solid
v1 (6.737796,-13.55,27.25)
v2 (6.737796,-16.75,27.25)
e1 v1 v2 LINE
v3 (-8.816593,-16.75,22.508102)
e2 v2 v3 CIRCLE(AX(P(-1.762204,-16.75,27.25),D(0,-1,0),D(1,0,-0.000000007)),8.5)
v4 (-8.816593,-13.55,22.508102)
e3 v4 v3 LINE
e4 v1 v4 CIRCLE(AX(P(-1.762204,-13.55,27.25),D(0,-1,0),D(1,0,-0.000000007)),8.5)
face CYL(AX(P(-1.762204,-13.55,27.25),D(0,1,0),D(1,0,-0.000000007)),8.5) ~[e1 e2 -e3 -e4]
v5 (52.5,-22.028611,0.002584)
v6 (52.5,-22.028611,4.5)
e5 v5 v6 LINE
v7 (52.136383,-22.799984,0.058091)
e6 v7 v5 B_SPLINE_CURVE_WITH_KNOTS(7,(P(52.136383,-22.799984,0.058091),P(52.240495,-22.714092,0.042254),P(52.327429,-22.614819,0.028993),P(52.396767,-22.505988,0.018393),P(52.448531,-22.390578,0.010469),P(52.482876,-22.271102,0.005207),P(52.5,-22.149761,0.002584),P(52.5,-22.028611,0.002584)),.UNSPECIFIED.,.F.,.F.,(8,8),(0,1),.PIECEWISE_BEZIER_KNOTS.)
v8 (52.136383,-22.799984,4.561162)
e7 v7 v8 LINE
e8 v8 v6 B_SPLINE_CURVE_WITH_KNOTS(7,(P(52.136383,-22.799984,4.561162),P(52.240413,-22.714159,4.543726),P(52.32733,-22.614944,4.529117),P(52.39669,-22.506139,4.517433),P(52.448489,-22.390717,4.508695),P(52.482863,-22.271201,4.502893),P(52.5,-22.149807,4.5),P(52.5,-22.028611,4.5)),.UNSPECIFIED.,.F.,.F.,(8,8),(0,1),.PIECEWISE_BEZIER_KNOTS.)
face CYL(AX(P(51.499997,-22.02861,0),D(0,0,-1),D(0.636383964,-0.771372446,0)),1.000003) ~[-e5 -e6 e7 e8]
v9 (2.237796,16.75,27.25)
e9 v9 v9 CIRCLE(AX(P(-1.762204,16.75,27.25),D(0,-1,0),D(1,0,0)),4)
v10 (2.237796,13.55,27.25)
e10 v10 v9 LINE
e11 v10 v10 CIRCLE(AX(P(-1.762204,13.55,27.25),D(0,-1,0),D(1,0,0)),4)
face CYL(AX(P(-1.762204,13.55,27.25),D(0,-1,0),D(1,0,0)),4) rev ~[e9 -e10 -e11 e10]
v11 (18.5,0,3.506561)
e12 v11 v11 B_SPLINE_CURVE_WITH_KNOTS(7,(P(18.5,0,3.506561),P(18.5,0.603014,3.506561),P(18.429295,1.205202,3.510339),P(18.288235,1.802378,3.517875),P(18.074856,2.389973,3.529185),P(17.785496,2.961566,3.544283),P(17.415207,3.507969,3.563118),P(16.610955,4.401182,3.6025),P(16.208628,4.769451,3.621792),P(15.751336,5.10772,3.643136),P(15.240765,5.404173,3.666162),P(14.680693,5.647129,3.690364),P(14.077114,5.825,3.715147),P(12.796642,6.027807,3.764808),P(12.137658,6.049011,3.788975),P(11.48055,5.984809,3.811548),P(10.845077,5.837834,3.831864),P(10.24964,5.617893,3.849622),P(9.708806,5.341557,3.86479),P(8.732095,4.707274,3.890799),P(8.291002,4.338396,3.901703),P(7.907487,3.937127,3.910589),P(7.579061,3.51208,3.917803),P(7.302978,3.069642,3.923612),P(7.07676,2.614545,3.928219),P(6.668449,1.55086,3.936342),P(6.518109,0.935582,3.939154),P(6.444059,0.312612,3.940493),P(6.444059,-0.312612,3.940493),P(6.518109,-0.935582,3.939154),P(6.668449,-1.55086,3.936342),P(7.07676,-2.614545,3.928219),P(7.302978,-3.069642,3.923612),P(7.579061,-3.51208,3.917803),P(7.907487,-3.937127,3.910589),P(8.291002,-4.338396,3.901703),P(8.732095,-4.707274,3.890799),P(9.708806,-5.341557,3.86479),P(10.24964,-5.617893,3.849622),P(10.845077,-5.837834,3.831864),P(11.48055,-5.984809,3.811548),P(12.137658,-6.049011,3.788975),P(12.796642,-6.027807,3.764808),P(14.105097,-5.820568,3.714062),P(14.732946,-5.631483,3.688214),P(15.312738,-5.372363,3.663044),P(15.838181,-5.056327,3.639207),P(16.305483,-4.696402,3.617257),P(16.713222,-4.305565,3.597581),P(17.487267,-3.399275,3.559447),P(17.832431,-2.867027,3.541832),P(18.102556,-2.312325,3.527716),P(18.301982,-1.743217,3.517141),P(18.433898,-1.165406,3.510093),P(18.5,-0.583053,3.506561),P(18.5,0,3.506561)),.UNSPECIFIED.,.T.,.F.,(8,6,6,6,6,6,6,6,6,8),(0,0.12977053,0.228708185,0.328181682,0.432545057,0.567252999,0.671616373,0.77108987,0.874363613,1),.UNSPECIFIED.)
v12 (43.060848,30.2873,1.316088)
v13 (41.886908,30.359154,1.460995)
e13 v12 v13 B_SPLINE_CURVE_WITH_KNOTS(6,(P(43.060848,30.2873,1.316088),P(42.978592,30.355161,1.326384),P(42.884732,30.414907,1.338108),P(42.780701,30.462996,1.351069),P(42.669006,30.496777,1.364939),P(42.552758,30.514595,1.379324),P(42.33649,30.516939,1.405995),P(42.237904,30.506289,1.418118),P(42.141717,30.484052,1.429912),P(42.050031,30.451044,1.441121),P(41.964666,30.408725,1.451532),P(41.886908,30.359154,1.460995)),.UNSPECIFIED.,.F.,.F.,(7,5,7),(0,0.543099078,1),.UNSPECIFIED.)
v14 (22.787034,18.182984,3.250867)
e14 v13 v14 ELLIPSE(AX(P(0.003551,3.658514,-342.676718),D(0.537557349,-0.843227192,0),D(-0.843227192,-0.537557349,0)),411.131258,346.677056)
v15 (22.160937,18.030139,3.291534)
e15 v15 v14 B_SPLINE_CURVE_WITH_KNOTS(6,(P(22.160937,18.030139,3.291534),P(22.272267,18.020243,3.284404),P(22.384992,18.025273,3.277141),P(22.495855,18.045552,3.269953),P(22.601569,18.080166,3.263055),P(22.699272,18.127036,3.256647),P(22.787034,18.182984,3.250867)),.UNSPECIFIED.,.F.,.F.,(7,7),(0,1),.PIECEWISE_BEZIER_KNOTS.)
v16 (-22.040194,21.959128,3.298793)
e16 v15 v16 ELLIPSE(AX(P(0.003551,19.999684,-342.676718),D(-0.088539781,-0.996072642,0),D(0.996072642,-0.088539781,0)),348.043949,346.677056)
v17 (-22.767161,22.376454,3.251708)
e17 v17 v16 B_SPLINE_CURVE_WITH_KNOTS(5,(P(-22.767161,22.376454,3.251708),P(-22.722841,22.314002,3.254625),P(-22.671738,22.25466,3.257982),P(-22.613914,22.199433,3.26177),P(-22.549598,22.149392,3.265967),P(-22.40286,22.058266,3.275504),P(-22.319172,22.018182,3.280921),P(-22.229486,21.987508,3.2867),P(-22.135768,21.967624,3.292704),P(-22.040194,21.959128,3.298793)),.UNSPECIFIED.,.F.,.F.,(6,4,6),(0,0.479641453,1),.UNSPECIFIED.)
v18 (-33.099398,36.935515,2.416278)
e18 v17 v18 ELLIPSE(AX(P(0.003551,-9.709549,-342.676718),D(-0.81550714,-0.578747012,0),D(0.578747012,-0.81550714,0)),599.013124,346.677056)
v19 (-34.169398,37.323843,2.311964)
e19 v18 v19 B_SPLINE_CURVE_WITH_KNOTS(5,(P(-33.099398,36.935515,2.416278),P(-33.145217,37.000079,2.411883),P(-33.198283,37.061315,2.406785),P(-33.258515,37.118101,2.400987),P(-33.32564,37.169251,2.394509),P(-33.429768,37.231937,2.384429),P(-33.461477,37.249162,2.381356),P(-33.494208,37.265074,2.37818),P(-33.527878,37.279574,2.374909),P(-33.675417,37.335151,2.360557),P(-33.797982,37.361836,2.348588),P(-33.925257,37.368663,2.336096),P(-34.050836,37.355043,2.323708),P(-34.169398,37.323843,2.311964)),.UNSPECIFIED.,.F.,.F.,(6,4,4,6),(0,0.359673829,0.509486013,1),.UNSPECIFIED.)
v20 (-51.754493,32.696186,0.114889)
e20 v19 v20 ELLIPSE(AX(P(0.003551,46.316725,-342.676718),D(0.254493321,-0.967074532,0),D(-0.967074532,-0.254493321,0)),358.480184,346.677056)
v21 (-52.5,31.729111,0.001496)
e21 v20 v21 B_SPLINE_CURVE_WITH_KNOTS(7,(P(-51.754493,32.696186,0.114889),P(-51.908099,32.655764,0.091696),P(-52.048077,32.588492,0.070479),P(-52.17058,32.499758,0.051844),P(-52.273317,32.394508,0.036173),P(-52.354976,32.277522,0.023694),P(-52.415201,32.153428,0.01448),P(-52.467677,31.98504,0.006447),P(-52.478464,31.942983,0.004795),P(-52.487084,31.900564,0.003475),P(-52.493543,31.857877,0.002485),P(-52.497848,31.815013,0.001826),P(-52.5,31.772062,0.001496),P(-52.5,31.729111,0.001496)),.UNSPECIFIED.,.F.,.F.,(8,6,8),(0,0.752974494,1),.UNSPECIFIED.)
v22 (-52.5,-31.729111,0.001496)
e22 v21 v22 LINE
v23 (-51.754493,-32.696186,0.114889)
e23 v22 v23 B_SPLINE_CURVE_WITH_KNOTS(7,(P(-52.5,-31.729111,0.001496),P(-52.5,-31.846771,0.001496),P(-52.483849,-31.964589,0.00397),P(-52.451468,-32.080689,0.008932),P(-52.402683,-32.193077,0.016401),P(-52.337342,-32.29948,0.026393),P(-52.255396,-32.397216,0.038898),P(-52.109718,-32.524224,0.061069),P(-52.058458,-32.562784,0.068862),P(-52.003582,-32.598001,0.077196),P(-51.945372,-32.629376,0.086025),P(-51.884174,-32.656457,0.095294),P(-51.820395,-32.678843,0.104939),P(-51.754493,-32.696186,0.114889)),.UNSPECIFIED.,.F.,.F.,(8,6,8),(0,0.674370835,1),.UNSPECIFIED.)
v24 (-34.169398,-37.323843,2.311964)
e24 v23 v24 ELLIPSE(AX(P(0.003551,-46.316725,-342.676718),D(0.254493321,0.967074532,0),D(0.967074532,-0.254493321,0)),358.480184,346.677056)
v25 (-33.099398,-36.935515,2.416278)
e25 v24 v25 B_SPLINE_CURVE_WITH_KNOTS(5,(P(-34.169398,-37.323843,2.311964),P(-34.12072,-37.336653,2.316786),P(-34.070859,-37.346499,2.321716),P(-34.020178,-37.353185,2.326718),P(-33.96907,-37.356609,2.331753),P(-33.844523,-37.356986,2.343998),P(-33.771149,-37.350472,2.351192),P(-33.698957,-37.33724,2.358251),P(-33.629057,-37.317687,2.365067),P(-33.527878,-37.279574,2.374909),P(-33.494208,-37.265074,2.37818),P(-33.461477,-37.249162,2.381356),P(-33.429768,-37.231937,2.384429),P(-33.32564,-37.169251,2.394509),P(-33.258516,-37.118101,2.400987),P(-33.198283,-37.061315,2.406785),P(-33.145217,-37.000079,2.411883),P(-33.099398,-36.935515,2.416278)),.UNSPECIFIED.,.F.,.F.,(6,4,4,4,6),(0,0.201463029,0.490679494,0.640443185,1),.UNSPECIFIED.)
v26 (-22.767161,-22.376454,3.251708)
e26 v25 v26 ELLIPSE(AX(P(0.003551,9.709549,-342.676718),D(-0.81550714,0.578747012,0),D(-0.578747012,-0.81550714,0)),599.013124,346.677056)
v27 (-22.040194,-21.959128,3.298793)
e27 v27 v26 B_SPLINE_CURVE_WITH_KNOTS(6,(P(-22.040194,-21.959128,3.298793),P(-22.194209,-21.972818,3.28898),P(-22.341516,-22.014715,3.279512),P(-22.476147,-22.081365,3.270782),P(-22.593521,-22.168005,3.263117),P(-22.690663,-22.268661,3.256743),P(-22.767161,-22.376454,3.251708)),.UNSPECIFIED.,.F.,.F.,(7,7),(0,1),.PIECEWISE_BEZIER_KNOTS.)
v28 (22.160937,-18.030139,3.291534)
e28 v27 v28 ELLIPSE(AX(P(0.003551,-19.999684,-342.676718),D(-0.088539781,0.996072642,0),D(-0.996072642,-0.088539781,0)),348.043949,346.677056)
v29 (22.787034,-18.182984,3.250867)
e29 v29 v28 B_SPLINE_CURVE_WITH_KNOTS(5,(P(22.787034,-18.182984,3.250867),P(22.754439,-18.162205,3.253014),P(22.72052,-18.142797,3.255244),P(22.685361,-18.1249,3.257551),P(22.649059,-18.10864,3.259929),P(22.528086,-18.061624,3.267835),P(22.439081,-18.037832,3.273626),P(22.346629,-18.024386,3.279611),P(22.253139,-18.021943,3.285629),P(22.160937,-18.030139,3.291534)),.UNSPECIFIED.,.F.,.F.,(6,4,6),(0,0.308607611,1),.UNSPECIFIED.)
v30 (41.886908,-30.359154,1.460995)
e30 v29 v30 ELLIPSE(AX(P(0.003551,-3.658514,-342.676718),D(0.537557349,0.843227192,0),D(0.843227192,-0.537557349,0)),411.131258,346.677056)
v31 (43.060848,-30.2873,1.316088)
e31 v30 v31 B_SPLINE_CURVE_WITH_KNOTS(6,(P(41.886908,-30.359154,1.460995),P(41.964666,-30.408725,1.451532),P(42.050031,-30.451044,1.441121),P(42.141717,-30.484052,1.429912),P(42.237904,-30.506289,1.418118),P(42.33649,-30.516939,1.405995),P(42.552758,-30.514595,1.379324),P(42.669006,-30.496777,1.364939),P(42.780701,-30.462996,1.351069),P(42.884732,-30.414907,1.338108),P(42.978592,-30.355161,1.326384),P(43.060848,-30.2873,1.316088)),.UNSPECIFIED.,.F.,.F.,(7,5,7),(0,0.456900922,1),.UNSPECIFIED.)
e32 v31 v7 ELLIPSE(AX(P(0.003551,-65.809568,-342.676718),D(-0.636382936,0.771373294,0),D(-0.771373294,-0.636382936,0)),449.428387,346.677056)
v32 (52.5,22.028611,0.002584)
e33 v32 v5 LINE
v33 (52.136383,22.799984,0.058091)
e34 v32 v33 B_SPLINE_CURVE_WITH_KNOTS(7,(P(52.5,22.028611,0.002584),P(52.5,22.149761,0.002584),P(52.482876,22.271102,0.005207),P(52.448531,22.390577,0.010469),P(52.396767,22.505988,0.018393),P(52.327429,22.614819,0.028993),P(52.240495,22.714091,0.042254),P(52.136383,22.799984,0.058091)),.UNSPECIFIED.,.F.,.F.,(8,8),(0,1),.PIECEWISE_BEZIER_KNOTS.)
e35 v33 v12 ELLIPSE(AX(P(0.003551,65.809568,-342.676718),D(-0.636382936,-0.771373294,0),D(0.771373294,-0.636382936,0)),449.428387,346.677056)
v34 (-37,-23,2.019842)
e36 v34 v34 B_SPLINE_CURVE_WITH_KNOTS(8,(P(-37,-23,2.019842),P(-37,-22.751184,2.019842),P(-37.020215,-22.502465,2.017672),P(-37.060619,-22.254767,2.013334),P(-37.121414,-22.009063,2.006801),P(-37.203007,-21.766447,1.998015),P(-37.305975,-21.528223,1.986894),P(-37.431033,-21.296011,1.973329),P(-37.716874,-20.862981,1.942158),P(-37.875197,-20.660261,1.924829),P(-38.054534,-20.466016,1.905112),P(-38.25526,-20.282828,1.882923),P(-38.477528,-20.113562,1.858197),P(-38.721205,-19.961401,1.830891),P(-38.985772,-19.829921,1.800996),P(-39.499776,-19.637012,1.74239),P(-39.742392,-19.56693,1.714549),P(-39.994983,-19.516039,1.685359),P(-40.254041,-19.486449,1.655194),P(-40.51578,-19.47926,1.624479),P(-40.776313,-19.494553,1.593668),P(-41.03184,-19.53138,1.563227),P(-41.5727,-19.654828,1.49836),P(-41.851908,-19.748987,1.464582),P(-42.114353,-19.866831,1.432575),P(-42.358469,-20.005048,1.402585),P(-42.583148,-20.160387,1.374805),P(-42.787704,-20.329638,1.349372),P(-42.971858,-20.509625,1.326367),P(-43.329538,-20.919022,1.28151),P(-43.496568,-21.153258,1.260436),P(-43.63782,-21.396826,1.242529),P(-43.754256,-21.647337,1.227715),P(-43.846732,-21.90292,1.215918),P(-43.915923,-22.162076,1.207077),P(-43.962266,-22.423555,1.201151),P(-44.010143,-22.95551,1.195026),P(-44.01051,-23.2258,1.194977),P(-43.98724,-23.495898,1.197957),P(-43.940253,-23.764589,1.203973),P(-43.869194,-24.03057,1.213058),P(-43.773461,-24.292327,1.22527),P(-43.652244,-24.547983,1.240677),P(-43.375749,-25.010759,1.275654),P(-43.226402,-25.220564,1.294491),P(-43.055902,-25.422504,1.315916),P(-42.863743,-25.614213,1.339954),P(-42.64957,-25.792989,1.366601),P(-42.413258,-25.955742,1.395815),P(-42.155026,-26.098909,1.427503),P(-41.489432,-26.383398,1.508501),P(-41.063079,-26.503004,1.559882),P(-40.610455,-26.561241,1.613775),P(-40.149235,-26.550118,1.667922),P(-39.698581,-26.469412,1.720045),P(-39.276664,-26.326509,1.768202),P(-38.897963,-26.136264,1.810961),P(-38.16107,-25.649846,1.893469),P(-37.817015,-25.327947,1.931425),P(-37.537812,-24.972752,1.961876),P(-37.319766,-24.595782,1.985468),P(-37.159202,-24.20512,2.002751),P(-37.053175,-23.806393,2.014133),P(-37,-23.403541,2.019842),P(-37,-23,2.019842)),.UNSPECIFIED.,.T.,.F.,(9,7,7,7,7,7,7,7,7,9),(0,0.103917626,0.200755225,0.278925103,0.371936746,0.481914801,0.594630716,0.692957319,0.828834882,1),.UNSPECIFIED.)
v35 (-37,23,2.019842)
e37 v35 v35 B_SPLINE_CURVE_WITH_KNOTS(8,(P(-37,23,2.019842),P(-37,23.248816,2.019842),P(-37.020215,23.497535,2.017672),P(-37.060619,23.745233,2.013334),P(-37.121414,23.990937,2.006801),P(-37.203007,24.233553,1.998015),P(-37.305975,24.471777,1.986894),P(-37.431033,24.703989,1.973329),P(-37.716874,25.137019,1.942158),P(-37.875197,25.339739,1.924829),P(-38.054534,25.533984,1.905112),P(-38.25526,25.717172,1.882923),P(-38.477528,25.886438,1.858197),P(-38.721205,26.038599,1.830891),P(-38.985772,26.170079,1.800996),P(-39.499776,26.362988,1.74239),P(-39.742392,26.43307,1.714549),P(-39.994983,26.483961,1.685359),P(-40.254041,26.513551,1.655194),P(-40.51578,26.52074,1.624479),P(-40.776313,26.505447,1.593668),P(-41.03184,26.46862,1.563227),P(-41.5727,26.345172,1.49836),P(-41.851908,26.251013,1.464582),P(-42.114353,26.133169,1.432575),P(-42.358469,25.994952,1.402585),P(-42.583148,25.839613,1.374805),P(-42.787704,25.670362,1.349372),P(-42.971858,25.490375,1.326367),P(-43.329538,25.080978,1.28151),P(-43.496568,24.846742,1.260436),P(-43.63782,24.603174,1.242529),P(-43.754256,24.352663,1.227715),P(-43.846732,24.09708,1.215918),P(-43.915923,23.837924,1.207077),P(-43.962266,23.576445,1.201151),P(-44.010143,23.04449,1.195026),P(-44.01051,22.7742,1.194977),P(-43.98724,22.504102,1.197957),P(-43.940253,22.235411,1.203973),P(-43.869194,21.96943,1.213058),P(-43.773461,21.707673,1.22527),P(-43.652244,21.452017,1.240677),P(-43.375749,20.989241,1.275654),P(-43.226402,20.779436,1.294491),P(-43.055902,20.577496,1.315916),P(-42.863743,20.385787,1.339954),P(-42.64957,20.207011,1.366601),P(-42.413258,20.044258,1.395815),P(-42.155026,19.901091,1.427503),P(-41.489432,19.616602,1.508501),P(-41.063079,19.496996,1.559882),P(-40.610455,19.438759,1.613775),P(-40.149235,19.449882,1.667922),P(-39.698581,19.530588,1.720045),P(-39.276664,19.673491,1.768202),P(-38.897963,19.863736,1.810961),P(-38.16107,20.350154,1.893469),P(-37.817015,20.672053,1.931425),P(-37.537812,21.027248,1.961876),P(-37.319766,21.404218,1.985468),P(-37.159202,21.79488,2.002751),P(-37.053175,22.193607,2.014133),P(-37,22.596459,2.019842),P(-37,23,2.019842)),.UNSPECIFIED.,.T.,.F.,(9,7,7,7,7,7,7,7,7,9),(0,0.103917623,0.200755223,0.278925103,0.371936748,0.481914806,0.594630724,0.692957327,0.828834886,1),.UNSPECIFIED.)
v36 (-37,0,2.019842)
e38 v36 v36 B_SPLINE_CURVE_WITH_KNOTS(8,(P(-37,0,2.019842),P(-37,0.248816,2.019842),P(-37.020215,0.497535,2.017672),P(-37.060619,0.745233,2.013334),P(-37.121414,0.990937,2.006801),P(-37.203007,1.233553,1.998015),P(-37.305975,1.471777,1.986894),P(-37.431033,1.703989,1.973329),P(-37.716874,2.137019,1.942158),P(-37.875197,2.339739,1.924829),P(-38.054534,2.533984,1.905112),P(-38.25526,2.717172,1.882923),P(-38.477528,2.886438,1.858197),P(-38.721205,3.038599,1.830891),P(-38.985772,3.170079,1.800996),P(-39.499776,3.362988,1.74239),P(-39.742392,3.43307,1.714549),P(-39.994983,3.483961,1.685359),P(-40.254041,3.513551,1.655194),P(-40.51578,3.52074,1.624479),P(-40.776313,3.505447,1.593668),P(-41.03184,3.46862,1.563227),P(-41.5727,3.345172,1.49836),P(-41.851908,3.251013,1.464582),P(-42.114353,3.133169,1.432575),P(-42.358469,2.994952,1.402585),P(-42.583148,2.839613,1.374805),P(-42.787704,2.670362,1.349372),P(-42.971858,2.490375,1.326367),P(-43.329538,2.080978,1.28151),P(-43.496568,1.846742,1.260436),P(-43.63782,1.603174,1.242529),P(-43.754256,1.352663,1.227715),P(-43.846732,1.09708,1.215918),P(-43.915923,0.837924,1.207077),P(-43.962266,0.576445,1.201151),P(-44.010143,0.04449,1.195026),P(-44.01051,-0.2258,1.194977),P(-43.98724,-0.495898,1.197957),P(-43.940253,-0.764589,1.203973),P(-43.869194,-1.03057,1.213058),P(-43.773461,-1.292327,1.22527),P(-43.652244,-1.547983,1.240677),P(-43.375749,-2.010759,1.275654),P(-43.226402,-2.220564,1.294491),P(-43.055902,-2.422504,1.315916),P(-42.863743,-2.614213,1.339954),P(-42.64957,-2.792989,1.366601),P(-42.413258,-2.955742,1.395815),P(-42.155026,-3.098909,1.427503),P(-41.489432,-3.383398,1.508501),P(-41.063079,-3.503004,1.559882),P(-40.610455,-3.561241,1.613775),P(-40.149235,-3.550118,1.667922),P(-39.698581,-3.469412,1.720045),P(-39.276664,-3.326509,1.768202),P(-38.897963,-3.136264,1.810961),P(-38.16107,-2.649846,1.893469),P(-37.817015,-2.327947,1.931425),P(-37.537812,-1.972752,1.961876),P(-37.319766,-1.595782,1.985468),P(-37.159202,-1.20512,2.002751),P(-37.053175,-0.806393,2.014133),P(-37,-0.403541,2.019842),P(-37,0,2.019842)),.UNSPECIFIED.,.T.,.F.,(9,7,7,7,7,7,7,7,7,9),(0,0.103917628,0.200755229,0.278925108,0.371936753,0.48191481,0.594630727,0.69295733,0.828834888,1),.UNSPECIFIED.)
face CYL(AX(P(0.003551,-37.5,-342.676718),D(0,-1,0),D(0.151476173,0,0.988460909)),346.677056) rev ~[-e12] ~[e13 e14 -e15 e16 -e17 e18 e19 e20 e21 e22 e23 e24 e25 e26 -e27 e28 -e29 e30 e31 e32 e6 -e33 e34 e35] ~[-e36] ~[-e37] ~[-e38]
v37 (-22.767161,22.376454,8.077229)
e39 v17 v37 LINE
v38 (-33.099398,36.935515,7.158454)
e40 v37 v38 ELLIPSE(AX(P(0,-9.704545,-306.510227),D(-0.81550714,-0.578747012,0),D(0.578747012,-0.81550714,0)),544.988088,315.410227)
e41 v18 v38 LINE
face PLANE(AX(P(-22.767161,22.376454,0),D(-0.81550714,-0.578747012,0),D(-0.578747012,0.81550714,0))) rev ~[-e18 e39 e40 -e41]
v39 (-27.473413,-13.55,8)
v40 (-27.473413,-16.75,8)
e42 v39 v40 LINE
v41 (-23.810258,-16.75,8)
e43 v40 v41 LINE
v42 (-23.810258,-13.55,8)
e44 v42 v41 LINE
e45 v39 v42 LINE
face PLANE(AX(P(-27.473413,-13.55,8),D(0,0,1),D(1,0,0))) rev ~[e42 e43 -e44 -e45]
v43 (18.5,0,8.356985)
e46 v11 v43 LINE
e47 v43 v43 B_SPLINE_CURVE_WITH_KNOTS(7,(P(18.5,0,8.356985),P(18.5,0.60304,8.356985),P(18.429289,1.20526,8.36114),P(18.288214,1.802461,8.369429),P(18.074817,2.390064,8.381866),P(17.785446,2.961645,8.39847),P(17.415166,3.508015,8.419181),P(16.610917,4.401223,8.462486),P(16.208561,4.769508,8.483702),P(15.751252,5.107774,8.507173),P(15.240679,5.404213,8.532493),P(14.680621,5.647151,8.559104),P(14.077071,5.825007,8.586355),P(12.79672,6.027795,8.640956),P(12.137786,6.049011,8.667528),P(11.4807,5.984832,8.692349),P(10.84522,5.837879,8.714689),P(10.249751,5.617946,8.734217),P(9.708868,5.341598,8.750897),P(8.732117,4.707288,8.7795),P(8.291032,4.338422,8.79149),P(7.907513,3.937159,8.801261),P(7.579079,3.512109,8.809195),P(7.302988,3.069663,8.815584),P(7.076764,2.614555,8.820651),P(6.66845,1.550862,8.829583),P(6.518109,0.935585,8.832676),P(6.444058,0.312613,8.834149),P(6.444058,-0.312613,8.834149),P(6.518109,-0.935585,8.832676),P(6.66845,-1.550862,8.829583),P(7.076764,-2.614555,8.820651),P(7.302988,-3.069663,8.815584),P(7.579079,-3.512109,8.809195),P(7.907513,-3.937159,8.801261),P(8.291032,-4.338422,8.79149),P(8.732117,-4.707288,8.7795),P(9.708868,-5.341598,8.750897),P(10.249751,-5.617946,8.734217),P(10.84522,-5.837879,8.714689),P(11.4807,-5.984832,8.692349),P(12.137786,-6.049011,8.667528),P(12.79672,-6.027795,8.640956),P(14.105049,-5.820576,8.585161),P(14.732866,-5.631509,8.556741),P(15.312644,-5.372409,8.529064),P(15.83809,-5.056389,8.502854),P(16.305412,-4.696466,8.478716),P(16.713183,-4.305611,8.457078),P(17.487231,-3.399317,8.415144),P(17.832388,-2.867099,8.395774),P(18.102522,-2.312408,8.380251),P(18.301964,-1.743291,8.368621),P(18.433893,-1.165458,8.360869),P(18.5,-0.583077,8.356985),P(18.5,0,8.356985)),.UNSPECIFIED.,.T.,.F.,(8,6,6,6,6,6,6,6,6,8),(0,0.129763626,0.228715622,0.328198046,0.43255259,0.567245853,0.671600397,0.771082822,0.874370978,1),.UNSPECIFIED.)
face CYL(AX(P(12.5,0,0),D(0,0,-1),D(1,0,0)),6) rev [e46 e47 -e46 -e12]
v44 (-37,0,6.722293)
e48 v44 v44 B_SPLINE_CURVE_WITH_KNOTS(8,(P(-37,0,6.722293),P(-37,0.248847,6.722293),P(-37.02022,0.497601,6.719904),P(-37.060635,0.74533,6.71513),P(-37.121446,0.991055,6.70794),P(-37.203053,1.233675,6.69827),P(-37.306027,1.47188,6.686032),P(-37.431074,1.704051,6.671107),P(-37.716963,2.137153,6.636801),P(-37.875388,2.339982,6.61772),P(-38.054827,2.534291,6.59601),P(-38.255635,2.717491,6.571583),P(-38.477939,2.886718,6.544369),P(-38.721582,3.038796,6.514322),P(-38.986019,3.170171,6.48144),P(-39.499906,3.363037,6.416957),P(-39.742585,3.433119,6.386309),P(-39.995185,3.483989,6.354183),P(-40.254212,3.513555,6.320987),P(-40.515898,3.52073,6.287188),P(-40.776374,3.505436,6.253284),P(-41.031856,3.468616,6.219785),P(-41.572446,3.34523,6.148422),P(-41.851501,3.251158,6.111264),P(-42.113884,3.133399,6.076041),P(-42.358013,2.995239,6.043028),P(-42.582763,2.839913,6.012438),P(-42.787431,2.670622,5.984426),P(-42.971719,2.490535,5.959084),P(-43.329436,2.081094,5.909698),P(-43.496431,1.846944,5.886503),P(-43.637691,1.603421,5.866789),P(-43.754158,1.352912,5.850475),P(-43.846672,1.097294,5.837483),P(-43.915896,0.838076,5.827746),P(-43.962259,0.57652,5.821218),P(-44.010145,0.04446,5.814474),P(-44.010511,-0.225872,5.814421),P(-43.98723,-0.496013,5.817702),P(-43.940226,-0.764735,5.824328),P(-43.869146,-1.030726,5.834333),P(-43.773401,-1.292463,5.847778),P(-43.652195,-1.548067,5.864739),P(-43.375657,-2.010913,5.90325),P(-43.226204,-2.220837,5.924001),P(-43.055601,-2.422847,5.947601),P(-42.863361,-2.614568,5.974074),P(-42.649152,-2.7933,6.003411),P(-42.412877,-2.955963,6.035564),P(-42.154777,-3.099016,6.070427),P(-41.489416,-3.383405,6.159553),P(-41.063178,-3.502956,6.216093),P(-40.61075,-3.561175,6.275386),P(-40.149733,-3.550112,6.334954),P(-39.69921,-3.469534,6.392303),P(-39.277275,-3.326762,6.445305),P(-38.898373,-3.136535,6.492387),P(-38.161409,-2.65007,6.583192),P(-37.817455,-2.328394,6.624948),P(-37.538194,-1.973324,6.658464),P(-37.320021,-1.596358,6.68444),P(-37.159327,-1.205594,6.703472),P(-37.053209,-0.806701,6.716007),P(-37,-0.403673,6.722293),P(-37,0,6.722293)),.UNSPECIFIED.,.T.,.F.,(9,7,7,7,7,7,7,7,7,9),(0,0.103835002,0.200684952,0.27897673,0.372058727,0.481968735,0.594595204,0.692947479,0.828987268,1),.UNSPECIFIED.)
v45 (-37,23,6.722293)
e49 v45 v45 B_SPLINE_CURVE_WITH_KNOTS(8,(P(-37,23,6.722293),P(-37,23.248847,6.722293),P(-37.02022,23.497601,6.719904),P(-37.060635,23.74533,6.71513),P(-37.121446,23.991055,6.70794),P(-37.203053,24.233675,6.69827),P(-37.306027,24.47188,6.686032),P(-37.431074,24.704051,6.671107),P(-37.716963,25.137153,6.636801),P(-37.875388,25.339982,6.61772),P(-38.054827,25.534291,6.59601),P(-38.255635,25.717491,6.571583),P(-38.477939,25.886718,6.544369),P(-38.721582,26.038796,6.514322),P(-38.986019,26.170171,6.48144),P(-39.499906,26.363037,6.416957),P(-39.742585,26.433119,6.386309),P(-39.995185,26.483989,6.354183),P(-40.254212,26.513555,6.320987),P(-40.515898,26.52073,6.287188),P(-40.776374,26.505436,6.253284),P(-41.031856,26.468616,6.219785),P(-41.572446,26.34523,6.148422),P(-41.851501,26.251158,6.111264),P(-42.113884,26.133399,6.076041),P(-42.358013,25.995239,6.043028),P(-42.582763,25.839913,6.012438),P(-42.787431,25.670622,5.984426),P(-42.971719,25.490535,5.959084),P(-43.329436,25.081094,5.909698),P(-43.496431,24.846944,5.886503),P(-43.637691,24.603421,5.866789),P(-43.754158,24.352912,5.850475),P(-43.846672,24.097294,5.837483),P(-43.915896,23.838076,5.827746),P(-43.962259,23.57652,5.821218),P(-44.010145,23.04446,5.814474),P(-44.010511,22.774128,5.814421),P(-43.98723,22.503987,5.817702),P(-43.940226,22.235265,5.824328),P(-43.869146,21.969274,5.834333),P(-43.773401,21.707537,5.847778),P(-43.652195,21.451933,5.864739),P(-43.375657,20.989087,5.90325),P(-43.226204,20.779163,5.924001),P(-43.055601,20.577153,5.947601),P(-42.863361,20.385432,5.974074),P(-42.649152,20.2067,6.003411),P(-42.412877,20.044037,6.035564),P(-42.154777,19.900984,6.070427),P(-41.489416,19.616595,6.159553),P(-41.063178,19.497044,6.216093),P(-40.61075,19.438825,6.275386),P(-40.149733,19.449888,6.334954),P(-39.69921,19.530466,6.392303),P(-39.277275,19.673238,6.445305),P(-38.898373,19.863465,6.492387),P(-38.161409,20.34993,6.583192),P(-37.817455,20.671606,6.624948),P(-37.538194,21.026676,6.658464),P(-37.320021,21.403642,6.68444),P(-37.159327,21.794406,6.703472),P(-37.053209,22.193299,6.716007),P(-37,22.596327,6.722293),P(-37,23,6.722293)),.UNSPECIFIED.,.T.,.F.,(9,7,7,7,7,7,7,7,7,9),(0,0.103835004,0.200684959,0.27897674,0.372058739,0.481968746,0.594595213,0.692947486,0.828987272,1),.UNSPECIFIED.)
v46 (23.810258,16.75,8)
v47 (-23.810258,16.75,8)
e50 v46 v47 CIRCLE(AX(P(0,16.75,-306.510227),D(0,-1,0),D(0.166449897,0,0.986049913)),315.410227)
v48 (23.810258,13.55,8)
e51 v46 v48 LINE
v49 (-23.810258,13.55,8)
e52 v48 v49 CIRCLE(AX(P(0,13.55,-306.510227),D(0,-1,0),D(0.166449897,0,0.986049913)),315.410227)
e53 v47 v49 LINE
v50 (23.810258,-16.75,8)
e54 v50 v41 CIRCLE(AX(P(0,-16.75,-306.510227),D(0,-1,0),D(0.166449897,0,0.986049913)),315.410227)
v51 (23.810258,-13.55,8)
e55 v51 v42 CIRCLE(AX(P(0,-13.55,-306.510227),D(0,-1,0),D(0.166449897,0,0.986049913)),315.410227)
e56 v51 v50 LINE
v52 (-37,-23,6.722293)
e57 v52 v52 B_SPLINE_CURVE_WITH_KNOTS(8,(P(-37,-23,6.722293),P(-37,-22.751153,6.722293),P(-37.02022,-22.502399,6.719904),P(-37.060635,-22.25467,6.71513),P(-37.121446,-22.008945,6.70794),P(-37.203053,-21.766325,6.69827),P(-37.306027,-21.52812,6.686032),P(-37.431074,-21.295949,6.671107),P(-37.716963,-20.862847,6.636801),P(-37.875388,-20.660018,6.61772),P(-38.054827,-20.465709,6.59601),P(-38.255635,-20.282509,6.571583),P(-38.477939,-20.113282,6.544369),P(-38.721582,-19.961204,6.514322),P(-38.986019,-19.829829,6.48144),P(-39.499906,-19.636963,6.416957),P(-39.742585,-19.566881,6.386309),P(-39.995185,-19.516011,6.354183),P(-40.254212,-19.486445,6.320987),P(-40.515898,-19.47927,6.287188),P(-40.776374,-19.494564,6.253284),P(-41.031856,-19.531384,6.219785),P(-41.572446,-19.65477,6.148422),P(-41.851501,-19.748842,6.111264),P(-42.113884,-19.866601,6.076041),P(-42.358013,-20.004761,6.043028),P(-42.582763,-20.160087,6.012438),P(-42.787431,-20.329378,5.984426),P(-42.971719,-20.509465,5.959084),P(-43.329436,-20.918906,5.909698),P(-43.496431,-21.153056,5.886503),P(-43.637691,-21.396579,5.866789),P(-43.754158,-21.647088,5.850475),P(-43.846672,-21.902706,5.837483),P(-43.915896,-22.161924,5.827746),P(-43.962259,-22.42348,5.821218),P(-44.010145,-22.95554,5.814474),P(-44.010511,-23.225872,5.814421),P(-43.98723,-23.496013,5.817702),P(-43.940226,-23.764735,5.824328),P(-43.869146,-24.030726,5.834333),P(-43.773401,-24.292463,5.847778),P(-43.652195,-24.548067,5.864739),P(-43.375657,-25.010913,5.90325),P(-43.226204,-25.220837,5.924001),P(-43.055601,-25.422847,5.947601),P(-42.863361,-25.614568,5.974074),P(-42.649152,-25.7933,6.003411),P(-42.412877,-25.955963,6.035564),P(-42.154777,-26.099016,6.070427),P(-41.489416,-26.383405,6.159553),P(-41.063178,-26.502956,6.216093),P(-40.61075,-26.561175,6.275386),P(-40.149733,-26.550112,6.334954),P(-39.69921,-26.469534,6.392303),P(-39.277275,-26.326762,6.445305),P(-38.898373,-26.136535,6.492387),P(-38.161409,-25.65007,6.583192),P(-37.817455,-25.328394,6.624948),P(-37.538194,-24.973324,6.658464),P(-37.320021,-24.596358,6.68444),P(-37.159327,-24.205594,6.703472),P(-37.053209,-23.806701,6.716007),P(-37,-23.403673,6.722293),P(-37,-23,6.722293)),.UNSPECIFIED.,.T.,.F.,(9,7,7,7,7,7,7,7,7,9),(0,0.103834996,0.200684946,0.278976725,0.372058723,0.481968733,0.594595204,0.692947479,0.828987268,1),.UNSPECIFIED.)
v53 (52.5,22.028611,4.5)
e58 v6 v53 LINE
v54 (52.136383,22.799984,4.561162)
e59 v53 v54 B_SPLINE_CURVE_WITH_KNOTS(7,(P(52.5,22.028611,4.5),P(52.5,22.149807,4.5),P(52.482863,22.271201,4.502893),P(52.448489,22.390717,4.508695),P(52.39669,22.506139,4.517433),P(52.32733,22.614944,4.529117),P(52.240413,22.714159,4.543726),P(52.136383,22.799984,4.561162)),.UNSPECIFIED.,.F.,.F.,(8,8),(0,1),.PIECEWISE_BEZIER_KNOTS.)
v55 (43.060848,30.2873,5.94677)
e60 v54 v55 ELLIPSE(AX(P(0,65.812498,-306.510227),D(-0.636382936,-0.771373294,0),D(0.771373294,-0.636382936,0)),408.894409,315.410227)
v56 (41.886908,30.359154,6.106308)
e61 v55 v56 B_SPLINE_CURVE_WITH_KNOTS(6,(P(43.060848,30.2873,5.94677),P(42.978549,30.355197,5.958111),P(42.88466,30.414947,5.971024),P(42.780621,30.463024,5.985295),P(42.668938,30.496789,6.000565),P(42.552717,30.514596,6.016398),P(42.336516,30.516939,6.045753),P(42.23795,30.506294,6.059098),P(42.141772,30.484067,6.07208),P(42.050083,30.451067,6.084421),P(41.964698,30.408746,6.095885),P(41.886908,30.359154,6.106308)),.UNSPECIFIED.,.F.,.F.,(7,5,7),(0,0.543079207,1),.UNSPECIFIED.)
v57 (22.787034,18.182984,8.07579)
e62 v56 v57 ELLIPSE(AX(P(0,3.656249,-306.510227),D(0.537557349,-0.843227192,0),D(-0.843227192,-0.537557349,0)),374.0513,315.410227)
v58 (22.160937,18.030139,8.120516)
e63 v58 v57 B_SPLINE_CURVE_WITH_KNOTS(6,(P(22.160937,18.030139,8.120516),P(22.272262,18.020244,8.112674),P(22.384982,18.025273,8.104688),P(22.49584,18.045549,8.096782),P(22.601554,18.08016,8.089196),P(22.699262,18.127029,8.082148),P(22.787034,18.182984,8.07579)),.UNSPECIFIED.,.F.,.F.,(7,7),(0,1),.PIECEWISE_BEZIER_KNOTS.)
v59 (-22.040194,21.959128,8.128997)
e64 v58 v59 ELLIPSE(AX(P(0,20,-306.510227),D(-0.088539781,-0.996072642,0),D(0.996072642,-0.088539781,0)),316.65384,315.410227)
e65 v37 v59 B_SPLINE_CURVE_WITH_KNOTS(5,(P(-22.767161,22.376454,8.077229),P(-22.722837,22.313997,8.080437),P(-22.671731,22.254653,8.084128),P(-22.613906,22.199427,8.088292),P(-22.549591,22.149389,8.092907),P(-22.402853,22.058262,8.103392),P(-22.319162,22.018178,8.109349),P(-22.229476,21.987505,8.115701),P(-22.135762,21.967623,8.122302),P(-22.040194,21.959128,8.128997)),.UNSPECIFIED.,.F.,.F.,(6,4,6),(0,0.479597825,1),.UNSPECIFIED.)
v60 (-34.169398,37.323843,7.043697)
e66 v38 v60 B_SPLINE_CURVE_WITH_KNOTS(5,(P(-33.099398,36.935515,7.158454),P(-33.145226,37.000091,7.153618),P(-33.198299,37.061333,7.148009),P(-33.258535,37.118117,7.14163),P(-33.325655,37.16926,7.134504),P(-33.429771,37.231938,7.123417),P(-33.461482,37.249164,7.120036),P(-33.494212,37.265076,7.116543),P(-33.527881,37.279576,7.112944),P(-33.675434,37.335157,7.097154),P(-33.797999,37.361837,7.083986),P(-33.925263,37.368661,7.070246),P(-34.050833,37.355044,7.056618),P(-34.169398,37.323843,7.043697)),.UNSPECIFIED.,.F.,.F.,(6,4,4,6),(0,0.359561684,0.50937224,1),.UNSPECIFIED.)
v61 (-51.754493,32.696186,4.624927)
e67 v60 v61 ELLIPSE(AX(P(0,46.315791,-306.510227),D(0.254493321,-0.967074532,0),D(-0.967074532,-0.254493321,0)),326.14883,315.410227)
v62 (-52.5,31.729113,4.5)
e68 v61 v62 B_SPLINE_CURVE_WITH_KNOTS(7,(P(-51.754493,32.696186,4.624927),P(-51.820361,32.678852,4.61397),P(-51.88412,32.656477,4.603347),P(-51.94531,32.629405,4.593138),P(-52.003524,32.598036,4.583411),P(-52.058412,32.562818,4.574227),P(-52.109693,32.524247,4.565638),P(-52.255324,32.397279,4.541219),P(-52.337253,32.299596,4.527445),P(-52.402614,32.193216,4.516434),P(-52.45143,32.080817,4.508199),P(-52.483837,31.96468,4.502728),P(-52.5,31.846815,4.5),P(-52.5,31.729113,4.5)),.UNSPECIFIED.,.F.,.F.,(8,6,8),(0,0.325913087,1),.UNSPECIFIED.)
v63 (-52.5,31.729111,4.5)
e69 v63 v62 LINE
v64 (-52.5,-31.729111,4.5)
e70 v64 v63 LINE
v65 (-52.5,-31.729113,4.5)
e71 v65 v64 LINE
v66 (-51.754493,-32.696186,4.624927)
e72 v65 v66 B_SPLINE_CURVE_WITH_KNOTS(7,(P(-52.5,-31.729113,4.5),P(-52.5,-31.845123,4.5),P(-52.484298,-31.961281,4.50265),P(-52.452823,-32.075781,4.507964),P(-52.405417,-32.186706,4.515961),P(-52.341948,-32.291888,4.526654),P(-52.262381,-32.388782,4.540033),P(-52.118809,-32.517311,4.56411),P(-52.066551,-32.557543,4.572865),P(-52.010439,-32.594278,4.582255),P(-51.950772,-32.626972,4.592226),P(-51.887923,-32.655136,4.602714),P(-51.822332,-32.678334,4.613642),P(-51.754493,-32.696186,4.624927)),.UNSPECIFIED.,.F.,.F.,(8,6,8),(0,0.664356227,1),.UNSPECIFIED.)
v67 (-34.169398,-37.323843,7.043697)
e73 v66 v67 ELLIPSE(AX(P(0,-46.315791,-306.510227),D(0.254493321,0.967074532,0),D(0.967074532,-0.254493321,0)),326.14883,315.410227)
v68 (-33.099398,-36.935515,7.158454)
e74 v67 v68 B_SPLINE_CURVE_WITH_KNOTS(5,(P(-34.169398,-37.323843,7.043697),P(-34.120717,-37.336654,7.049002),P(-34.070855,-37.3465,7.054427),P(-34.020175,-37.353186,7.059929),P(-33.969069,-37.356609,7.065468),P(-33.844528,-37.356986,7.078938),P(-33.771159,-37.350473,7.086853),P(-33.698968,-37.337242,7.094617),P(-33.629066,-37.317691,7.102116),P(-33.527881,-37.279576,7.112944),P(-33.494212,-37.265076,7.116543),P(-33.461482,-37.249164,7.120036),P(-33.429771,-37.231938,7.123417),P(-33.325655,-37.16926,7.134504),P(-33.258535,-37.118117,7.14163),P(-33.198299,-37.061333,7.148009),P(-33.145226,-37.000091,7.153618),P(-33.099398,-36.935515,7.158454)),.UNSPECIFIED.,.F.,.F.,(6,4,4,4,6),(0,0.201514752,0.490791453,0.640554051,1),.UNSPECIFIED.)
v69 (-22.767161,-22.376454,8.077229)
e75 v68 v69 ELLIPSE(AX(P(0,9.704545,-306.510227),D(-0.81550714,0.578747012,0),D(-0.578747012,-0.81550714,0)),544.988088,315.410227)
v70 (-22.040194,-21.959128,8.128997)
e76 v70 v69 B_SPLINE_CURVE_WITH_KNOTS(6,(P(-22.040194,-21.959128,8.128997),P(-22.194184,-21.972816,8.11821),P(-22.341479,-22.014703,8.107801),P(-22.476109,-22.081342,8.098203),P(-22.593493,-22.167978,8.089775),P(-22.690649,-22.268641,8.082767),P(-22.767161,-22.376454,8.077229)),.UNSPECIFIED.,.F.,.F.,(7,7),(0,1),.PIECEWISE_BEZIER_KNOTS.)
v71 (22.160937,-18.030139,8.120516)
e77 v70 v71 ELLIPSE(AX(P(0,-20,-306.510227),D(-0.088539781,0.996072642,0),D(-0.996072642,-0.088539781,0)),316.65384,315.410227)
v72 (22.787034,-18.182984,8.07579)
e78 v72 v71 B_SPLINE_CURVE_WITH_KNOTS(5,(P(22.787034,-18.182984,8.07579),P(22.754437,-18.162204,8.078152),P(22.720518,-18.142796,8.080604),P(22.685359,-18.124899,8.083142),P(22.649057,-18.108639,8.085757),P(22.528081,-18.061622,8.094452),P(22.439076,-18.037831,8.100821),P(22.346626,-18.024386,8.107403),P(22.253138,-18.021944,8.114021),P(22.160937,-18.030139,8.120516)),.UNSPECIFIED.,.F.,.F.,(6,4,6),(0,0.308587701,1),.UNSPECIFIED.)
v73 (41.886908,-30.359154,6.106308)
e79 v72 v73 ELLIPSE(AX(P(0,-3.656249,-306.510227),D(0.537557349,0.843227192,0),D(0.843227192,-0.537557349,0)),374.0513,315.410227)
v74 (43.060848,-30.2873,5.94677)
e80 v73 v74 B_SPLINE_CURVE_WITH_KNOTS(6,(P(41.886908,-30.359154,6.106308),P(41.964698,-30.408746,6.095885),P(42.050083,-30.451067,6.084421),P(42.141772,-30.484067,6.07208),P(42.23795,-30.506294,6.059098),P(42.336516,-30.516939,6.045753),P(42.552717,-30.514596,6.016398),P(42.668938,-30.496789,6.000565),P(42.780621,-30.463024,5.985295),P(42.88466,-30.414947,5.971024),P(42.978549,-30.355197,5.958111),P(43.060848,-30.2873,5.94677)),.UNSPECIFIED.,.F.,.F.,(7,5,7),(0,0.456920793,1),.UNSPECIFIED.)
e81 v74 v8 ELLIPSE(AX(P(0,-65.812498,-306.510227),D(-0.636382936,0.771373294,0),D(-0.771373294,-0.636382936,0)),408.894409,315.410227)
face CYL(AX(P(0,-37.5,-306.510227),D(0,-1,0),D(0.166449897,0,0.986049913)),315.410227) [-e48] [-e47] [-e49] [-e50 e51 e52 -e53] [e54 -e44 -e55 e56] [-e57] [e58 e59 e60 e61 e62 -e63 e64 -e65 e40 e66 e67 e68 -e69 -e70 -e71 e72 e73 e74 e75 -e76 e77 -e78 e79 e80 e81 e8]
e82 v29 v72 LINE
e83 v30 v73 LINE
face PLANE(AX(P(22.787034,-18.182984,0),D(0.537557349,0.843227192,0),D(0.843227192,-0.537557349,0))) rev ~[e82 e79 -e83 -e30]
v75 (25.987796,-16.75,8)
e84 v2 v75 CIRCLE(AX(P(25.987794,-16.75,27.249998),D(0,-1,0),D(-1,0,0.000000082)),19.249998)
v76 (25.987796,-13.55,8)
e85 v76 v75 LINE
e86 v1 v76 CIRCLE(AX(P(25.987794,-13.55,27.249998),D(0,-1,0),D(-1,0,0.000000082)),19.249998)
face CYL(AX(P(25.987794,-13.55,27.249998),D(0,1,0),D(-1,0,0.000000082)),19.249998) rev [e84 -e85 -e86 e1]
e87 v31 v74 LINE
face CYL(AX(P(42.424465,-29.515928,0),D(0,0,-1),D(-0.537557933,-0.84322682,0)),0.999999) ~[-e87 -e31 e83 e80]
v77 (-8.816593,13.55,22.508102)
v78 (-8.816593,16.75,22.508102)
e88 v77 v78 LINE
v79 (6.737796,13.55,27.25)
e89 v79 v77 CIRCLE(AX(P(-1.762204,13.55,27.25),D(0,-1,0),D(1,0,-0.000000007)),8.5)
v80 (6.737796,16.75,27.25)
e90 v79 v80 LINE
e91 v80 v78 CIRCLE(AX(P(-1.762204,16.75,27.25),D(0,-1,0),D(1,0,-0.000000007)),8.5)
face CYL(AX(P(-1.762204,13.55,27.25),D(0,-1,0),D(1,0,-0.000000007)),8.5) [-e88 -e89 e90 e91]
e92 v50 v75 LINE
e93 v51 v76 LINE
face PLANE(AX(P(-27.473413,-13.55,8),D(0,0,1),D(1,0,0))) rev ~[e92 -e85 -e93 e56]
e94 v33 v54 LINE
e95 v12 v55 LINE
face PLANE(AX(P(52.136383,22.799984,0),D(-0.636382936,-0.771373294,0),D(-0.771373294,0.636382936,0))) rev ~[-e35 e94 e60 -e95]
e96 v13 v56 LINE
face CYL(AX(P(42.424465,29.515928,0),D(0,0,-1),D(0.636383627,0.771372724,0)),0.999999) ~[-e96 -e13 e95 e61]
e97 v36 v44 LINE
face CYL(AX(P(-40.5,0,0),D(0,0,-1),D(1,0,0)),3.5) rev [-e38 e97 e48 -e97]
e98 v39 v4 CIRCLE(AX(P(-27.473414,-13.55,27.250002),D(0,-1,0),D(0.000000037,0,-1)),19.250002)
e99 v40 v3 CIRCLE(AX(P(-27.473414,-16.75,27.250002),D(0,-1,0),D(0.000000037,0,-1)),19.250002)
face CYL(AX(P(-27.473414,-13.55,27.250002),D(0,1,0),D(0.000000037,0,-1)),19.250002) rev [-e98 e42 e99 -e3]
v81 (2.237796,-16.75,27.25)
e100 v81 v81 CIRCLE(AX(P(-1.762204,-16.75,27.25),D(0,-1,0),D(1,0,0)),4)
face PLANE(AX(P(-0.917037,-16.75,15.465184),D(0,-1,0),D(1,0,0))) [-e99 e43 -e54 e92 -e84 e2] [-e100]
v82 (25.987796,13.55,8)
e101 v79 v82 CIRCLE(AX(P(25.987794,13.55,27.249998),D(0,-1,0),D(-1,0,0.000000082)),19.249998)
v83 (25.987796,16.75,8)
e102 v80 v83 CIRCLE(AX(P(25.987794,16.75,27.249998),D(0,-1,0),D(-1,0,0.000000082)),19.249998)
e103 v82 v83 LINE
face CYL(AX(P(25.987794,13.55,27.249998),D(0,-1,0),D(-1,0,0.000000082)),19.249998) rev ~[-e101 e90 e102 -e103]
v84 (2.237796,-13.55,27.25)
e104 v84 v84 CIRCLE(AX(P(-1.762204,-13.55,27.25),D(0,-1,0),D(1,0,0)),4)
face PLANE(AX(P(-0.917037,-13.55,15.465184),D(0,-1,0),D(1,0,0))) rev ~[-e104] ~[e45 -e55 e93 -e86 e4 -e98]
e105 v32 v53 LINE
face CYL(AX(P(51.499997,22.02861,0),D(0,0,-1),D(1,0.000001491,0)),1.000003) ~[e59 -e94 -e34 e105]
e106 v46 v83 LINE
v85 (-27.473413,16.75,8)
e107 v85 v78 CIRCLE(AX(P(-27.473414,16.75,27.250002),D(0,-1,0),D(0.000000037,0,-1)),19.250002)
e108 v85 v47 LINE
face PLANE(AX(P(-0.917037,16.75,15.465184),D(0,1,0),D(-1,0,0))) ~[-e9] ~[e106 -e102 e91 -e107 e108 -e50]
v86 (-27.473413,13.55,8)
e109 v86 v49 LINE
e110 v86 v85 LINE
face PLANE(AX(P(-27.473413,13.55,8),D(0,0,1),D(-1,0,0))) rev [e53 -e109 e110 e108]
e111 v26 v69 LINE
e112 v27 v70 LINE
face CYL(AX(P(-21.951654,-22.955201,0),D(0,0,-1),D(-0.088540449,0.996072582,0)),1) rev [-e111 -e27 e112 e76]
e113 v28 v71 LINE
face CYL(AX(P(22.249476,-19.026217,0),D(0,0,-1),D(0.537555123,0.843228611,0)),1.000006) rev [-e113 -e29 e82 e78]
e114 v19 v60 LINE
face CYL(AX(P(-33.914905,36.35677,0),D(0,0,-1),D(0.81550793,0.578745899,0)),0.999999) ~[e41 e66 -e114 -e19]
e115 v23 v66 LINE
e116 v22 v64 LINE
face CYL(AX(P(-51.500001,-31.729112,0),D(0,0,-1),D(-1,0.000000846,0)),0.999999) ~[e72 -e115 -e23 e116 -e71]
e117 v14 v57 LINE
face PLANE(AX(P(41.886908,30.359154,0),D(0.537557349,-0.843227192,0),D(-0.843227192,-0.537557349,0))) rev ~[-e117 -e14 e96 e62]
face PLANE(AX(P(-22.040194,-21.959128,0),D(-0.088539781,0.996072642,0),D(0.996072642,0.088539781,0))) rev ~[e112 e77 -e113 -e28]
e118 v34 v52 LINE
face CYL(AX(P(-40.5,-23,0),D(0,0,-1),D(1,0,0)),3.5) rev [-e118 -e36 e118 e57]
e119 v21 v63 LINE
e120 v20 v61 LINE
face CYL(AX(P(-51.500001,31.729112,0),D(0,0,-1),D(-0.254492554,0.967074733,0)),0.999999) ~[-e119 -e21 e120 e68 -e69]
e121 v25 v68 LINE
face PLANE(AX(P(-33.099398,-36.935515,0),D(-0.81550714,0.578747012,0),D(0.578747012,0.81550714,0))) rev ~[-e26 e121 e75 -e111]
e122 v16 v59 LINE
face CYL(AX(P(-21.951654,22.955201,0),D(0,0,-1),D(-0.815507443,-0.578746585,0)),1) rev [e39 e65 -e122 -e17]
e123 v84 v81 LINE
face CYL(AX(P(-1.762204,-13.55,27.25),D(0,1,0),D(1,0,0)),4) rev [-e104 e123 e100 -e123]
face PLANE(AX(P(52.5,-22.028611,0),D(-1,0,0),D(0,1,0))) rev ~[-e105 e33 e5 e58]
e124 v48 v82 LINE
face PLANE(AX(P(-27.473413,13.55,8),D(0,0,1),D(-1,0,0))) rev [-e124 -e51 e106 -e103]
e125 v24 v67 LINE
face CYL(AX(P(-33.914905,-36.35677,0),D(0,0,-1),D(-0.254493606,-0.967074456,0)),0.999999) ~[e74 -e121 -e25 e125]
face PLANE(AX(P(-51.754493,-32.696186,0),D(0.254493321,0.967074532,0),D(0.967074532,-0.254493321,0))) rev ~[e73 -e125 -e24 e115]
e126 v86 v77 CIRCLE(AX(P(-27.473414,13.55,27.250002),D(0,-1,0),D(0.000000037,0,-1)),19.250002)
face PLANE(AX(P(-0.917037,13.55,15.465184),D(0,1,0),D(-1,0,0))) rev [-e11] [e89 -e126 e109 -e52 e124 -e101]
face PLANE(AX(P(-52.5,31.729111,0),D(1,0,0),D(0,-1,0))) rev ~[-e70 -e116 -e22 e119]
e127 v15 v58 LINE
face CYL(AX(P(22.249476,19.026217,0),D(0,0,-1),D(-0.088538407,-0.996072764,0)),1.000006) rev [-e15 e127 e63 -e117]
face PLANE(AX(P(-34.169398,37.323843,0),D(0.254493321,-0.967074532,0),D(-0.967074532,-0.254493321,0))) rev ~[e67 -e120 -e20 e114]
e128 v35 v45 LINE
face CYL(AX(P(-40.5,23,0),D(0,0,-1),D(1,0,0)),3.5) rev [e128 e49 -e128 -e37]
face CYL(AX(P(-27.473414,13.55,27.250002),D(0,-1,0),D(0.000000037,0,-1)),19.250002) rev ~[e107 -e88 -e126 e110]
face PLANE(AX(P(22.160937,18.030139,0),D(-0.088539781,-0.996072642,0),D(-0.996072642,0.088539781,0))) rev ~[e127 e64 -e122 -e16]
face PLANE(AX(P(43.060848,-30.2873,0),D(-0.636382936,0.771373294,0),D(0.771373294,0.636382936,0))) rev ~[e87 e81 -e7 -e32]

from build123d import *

# Parameters (mm, degrees)
SKETCH_R        = 3.5
SKETCH_R_2      = 6
PAD_DEPTH       = 9
POCKET001_DEPTH = 75
POCKET_DEPTH    = 75
SKETCH003_R     = 4
PAD001_DEPTH    = 3.2


with BuildPart() as part:
    # Sketch → Pad (new body)
    with BuildSketch(Plane.XY):
        with BuildLine():
            Line((-34.169398, 37.323843), (-51.754493, 32.696186))
            ThreePointArc((-51.754493, 32.696186), (-52.291989, 32.339647), (-52.5, 31.729111))
            Line((-52.5, 31.729111), (-52.5, -31.729111))
            ThreePointArc((-52.5, -31.729111), (-52.291989, -32.339647), (-51.754493, -32.696186))
            Line((-51.754493, -32.696186), (-34.169398, -37.323843))
            ThreePointArc((-34.169398, -37.323843), (-33.573754, -37.296777), (-33.099398, -36.935515))
            Line((-33.099398, -36.935515), (-22.767161, -22.376454))
            ThreePointArc((-22.040194, -21.959128), (-22.449515, -22.087944), (-22.767161, -22.376454))
            Line((-22.040194, -21.959128), (22.160937, -18.030139))
            ThreePointArc((22.787034, -18.182984), (22.486636, -18.054741), (22.160937, -18.030139))
            Line((22.787034, -18.182984), (41.886908, -30.359154))
            ThreePointArc((41.886908, -30.359154), (42.485559, -30.514059), (43.060848, -30.2873))
            Line((43.060848, -30.2873), (52.136383, -22.799984))
            ThreePointArc((52.136383, -22.799984), (52.404539, -22.455001), (52.5, -22.028611))
            Line((52.5, -22.028611), (52.5, 22.028611))
            ThreePointArc((52.5, 22.028611), (52.404539, 22.455001), (52.136383, 22.799984))
            Line((52.136383, 22.799984), (43.060848, 30.2873))
            ThreePointArc((43.060848, 30.2873), (42.485559, 30.514059), (41.886908, 30.359154))
            Line((41.886908, 30.359154), (22.787034, 18.182984))
            ThreePointArc((22.160937, 18.030139), (22.486636, 18.054741), (22.787034, 18.182984))
            Line((22.160937, 18.030139), (-22.040194, 21.959128))
            ThreePointArc((-22.767161, 22.376454), (-22.449515, 22.087944), (-22.040194, 21.959128))
            Line((-22.767161, 22.376454), (-33.099398, 36.935515))
            ThreePointArc((-33.099398, 36.935515), (-33.573754, 37.296777), (-34.169398, 37.323843))
        make_face()
        with Locations((-40.5, 0)):
            Circle(SKETCH_R, mode=Mode.SUBTRACT)
        with Locations((-40.5, 23)):
            Circle(SKETCH_R, mode=Mode.SUBTRACT)
        with Locations((-40.5, -23)):
            Circle(SKETCH_R, mode=Mode.SUBTRACT)
        with Locations((12.5, 0)):
            Circle(SKETCH_R_2, mode=Mode.SUBTRACT)
    extrude(amount=PAD_DEPTH)

    # Sketch006 → Pocket001 (cut)
    with BuildSketch(Plane.XZ.offset(37.5)):
        with BuildLine():
            ThreePointArc((52.5, 4.5), (0, 8.9), (-52.5, 4.5))
            Line((-52.5, 4.5), (-52.5, 9))
            Line((52.5, 9), (-52.5, 9))
            Line((52.5, 4.5), (52.5, 9))
        make_face()
    extrude(amount=-POCKET001_DEPTH, mode=Mode.SUBTRACT)

    # Sketch005 → Pocket (cut)
    with BuildSketch(Plane.XZ.offset(37.5)):
        with BuildLine():
            ThreePointArc((52.516865, 0), (0.003551, 4.000338), (-52.509762, 0))
            Line((-52.509762, 0), (52.516865, 0))
        make_face()
    extrude(amount=-POCKET_DEPTH, mode=Mode.SUBTRACT)

    # Sketch003 (on DatumPlane) → Pad001 (join)
    with BuildSketch(Plane.XZ.offset(13.55)):
        with BuildLine():
            ThreePointArc((6.737796, 27.25), (-4.240883, 35.380569), (-8.816593, 22.508102))
            ThreePointArc((-27.473413, 8), (-15.656455, 12.053882), (-8.816593, 22.508102))
            Line((-27.473413, 8), (25.987796, 8))
            ThreePointArc((6.737796, 27.25), (12.37599, 13.638194), (25.987796, 8))
        make_face()
        with Locations((-1.762204, 27.25)):
            Circle(SKETCH003_R, mode=Mode.SUBTRACT)
    pad001 = extrude(amount=PAD001_DEPTH)

    # Mirrored: Pad001 across XZ
    add(pad001.mirror(Plane.XZ))


solid = part.part
